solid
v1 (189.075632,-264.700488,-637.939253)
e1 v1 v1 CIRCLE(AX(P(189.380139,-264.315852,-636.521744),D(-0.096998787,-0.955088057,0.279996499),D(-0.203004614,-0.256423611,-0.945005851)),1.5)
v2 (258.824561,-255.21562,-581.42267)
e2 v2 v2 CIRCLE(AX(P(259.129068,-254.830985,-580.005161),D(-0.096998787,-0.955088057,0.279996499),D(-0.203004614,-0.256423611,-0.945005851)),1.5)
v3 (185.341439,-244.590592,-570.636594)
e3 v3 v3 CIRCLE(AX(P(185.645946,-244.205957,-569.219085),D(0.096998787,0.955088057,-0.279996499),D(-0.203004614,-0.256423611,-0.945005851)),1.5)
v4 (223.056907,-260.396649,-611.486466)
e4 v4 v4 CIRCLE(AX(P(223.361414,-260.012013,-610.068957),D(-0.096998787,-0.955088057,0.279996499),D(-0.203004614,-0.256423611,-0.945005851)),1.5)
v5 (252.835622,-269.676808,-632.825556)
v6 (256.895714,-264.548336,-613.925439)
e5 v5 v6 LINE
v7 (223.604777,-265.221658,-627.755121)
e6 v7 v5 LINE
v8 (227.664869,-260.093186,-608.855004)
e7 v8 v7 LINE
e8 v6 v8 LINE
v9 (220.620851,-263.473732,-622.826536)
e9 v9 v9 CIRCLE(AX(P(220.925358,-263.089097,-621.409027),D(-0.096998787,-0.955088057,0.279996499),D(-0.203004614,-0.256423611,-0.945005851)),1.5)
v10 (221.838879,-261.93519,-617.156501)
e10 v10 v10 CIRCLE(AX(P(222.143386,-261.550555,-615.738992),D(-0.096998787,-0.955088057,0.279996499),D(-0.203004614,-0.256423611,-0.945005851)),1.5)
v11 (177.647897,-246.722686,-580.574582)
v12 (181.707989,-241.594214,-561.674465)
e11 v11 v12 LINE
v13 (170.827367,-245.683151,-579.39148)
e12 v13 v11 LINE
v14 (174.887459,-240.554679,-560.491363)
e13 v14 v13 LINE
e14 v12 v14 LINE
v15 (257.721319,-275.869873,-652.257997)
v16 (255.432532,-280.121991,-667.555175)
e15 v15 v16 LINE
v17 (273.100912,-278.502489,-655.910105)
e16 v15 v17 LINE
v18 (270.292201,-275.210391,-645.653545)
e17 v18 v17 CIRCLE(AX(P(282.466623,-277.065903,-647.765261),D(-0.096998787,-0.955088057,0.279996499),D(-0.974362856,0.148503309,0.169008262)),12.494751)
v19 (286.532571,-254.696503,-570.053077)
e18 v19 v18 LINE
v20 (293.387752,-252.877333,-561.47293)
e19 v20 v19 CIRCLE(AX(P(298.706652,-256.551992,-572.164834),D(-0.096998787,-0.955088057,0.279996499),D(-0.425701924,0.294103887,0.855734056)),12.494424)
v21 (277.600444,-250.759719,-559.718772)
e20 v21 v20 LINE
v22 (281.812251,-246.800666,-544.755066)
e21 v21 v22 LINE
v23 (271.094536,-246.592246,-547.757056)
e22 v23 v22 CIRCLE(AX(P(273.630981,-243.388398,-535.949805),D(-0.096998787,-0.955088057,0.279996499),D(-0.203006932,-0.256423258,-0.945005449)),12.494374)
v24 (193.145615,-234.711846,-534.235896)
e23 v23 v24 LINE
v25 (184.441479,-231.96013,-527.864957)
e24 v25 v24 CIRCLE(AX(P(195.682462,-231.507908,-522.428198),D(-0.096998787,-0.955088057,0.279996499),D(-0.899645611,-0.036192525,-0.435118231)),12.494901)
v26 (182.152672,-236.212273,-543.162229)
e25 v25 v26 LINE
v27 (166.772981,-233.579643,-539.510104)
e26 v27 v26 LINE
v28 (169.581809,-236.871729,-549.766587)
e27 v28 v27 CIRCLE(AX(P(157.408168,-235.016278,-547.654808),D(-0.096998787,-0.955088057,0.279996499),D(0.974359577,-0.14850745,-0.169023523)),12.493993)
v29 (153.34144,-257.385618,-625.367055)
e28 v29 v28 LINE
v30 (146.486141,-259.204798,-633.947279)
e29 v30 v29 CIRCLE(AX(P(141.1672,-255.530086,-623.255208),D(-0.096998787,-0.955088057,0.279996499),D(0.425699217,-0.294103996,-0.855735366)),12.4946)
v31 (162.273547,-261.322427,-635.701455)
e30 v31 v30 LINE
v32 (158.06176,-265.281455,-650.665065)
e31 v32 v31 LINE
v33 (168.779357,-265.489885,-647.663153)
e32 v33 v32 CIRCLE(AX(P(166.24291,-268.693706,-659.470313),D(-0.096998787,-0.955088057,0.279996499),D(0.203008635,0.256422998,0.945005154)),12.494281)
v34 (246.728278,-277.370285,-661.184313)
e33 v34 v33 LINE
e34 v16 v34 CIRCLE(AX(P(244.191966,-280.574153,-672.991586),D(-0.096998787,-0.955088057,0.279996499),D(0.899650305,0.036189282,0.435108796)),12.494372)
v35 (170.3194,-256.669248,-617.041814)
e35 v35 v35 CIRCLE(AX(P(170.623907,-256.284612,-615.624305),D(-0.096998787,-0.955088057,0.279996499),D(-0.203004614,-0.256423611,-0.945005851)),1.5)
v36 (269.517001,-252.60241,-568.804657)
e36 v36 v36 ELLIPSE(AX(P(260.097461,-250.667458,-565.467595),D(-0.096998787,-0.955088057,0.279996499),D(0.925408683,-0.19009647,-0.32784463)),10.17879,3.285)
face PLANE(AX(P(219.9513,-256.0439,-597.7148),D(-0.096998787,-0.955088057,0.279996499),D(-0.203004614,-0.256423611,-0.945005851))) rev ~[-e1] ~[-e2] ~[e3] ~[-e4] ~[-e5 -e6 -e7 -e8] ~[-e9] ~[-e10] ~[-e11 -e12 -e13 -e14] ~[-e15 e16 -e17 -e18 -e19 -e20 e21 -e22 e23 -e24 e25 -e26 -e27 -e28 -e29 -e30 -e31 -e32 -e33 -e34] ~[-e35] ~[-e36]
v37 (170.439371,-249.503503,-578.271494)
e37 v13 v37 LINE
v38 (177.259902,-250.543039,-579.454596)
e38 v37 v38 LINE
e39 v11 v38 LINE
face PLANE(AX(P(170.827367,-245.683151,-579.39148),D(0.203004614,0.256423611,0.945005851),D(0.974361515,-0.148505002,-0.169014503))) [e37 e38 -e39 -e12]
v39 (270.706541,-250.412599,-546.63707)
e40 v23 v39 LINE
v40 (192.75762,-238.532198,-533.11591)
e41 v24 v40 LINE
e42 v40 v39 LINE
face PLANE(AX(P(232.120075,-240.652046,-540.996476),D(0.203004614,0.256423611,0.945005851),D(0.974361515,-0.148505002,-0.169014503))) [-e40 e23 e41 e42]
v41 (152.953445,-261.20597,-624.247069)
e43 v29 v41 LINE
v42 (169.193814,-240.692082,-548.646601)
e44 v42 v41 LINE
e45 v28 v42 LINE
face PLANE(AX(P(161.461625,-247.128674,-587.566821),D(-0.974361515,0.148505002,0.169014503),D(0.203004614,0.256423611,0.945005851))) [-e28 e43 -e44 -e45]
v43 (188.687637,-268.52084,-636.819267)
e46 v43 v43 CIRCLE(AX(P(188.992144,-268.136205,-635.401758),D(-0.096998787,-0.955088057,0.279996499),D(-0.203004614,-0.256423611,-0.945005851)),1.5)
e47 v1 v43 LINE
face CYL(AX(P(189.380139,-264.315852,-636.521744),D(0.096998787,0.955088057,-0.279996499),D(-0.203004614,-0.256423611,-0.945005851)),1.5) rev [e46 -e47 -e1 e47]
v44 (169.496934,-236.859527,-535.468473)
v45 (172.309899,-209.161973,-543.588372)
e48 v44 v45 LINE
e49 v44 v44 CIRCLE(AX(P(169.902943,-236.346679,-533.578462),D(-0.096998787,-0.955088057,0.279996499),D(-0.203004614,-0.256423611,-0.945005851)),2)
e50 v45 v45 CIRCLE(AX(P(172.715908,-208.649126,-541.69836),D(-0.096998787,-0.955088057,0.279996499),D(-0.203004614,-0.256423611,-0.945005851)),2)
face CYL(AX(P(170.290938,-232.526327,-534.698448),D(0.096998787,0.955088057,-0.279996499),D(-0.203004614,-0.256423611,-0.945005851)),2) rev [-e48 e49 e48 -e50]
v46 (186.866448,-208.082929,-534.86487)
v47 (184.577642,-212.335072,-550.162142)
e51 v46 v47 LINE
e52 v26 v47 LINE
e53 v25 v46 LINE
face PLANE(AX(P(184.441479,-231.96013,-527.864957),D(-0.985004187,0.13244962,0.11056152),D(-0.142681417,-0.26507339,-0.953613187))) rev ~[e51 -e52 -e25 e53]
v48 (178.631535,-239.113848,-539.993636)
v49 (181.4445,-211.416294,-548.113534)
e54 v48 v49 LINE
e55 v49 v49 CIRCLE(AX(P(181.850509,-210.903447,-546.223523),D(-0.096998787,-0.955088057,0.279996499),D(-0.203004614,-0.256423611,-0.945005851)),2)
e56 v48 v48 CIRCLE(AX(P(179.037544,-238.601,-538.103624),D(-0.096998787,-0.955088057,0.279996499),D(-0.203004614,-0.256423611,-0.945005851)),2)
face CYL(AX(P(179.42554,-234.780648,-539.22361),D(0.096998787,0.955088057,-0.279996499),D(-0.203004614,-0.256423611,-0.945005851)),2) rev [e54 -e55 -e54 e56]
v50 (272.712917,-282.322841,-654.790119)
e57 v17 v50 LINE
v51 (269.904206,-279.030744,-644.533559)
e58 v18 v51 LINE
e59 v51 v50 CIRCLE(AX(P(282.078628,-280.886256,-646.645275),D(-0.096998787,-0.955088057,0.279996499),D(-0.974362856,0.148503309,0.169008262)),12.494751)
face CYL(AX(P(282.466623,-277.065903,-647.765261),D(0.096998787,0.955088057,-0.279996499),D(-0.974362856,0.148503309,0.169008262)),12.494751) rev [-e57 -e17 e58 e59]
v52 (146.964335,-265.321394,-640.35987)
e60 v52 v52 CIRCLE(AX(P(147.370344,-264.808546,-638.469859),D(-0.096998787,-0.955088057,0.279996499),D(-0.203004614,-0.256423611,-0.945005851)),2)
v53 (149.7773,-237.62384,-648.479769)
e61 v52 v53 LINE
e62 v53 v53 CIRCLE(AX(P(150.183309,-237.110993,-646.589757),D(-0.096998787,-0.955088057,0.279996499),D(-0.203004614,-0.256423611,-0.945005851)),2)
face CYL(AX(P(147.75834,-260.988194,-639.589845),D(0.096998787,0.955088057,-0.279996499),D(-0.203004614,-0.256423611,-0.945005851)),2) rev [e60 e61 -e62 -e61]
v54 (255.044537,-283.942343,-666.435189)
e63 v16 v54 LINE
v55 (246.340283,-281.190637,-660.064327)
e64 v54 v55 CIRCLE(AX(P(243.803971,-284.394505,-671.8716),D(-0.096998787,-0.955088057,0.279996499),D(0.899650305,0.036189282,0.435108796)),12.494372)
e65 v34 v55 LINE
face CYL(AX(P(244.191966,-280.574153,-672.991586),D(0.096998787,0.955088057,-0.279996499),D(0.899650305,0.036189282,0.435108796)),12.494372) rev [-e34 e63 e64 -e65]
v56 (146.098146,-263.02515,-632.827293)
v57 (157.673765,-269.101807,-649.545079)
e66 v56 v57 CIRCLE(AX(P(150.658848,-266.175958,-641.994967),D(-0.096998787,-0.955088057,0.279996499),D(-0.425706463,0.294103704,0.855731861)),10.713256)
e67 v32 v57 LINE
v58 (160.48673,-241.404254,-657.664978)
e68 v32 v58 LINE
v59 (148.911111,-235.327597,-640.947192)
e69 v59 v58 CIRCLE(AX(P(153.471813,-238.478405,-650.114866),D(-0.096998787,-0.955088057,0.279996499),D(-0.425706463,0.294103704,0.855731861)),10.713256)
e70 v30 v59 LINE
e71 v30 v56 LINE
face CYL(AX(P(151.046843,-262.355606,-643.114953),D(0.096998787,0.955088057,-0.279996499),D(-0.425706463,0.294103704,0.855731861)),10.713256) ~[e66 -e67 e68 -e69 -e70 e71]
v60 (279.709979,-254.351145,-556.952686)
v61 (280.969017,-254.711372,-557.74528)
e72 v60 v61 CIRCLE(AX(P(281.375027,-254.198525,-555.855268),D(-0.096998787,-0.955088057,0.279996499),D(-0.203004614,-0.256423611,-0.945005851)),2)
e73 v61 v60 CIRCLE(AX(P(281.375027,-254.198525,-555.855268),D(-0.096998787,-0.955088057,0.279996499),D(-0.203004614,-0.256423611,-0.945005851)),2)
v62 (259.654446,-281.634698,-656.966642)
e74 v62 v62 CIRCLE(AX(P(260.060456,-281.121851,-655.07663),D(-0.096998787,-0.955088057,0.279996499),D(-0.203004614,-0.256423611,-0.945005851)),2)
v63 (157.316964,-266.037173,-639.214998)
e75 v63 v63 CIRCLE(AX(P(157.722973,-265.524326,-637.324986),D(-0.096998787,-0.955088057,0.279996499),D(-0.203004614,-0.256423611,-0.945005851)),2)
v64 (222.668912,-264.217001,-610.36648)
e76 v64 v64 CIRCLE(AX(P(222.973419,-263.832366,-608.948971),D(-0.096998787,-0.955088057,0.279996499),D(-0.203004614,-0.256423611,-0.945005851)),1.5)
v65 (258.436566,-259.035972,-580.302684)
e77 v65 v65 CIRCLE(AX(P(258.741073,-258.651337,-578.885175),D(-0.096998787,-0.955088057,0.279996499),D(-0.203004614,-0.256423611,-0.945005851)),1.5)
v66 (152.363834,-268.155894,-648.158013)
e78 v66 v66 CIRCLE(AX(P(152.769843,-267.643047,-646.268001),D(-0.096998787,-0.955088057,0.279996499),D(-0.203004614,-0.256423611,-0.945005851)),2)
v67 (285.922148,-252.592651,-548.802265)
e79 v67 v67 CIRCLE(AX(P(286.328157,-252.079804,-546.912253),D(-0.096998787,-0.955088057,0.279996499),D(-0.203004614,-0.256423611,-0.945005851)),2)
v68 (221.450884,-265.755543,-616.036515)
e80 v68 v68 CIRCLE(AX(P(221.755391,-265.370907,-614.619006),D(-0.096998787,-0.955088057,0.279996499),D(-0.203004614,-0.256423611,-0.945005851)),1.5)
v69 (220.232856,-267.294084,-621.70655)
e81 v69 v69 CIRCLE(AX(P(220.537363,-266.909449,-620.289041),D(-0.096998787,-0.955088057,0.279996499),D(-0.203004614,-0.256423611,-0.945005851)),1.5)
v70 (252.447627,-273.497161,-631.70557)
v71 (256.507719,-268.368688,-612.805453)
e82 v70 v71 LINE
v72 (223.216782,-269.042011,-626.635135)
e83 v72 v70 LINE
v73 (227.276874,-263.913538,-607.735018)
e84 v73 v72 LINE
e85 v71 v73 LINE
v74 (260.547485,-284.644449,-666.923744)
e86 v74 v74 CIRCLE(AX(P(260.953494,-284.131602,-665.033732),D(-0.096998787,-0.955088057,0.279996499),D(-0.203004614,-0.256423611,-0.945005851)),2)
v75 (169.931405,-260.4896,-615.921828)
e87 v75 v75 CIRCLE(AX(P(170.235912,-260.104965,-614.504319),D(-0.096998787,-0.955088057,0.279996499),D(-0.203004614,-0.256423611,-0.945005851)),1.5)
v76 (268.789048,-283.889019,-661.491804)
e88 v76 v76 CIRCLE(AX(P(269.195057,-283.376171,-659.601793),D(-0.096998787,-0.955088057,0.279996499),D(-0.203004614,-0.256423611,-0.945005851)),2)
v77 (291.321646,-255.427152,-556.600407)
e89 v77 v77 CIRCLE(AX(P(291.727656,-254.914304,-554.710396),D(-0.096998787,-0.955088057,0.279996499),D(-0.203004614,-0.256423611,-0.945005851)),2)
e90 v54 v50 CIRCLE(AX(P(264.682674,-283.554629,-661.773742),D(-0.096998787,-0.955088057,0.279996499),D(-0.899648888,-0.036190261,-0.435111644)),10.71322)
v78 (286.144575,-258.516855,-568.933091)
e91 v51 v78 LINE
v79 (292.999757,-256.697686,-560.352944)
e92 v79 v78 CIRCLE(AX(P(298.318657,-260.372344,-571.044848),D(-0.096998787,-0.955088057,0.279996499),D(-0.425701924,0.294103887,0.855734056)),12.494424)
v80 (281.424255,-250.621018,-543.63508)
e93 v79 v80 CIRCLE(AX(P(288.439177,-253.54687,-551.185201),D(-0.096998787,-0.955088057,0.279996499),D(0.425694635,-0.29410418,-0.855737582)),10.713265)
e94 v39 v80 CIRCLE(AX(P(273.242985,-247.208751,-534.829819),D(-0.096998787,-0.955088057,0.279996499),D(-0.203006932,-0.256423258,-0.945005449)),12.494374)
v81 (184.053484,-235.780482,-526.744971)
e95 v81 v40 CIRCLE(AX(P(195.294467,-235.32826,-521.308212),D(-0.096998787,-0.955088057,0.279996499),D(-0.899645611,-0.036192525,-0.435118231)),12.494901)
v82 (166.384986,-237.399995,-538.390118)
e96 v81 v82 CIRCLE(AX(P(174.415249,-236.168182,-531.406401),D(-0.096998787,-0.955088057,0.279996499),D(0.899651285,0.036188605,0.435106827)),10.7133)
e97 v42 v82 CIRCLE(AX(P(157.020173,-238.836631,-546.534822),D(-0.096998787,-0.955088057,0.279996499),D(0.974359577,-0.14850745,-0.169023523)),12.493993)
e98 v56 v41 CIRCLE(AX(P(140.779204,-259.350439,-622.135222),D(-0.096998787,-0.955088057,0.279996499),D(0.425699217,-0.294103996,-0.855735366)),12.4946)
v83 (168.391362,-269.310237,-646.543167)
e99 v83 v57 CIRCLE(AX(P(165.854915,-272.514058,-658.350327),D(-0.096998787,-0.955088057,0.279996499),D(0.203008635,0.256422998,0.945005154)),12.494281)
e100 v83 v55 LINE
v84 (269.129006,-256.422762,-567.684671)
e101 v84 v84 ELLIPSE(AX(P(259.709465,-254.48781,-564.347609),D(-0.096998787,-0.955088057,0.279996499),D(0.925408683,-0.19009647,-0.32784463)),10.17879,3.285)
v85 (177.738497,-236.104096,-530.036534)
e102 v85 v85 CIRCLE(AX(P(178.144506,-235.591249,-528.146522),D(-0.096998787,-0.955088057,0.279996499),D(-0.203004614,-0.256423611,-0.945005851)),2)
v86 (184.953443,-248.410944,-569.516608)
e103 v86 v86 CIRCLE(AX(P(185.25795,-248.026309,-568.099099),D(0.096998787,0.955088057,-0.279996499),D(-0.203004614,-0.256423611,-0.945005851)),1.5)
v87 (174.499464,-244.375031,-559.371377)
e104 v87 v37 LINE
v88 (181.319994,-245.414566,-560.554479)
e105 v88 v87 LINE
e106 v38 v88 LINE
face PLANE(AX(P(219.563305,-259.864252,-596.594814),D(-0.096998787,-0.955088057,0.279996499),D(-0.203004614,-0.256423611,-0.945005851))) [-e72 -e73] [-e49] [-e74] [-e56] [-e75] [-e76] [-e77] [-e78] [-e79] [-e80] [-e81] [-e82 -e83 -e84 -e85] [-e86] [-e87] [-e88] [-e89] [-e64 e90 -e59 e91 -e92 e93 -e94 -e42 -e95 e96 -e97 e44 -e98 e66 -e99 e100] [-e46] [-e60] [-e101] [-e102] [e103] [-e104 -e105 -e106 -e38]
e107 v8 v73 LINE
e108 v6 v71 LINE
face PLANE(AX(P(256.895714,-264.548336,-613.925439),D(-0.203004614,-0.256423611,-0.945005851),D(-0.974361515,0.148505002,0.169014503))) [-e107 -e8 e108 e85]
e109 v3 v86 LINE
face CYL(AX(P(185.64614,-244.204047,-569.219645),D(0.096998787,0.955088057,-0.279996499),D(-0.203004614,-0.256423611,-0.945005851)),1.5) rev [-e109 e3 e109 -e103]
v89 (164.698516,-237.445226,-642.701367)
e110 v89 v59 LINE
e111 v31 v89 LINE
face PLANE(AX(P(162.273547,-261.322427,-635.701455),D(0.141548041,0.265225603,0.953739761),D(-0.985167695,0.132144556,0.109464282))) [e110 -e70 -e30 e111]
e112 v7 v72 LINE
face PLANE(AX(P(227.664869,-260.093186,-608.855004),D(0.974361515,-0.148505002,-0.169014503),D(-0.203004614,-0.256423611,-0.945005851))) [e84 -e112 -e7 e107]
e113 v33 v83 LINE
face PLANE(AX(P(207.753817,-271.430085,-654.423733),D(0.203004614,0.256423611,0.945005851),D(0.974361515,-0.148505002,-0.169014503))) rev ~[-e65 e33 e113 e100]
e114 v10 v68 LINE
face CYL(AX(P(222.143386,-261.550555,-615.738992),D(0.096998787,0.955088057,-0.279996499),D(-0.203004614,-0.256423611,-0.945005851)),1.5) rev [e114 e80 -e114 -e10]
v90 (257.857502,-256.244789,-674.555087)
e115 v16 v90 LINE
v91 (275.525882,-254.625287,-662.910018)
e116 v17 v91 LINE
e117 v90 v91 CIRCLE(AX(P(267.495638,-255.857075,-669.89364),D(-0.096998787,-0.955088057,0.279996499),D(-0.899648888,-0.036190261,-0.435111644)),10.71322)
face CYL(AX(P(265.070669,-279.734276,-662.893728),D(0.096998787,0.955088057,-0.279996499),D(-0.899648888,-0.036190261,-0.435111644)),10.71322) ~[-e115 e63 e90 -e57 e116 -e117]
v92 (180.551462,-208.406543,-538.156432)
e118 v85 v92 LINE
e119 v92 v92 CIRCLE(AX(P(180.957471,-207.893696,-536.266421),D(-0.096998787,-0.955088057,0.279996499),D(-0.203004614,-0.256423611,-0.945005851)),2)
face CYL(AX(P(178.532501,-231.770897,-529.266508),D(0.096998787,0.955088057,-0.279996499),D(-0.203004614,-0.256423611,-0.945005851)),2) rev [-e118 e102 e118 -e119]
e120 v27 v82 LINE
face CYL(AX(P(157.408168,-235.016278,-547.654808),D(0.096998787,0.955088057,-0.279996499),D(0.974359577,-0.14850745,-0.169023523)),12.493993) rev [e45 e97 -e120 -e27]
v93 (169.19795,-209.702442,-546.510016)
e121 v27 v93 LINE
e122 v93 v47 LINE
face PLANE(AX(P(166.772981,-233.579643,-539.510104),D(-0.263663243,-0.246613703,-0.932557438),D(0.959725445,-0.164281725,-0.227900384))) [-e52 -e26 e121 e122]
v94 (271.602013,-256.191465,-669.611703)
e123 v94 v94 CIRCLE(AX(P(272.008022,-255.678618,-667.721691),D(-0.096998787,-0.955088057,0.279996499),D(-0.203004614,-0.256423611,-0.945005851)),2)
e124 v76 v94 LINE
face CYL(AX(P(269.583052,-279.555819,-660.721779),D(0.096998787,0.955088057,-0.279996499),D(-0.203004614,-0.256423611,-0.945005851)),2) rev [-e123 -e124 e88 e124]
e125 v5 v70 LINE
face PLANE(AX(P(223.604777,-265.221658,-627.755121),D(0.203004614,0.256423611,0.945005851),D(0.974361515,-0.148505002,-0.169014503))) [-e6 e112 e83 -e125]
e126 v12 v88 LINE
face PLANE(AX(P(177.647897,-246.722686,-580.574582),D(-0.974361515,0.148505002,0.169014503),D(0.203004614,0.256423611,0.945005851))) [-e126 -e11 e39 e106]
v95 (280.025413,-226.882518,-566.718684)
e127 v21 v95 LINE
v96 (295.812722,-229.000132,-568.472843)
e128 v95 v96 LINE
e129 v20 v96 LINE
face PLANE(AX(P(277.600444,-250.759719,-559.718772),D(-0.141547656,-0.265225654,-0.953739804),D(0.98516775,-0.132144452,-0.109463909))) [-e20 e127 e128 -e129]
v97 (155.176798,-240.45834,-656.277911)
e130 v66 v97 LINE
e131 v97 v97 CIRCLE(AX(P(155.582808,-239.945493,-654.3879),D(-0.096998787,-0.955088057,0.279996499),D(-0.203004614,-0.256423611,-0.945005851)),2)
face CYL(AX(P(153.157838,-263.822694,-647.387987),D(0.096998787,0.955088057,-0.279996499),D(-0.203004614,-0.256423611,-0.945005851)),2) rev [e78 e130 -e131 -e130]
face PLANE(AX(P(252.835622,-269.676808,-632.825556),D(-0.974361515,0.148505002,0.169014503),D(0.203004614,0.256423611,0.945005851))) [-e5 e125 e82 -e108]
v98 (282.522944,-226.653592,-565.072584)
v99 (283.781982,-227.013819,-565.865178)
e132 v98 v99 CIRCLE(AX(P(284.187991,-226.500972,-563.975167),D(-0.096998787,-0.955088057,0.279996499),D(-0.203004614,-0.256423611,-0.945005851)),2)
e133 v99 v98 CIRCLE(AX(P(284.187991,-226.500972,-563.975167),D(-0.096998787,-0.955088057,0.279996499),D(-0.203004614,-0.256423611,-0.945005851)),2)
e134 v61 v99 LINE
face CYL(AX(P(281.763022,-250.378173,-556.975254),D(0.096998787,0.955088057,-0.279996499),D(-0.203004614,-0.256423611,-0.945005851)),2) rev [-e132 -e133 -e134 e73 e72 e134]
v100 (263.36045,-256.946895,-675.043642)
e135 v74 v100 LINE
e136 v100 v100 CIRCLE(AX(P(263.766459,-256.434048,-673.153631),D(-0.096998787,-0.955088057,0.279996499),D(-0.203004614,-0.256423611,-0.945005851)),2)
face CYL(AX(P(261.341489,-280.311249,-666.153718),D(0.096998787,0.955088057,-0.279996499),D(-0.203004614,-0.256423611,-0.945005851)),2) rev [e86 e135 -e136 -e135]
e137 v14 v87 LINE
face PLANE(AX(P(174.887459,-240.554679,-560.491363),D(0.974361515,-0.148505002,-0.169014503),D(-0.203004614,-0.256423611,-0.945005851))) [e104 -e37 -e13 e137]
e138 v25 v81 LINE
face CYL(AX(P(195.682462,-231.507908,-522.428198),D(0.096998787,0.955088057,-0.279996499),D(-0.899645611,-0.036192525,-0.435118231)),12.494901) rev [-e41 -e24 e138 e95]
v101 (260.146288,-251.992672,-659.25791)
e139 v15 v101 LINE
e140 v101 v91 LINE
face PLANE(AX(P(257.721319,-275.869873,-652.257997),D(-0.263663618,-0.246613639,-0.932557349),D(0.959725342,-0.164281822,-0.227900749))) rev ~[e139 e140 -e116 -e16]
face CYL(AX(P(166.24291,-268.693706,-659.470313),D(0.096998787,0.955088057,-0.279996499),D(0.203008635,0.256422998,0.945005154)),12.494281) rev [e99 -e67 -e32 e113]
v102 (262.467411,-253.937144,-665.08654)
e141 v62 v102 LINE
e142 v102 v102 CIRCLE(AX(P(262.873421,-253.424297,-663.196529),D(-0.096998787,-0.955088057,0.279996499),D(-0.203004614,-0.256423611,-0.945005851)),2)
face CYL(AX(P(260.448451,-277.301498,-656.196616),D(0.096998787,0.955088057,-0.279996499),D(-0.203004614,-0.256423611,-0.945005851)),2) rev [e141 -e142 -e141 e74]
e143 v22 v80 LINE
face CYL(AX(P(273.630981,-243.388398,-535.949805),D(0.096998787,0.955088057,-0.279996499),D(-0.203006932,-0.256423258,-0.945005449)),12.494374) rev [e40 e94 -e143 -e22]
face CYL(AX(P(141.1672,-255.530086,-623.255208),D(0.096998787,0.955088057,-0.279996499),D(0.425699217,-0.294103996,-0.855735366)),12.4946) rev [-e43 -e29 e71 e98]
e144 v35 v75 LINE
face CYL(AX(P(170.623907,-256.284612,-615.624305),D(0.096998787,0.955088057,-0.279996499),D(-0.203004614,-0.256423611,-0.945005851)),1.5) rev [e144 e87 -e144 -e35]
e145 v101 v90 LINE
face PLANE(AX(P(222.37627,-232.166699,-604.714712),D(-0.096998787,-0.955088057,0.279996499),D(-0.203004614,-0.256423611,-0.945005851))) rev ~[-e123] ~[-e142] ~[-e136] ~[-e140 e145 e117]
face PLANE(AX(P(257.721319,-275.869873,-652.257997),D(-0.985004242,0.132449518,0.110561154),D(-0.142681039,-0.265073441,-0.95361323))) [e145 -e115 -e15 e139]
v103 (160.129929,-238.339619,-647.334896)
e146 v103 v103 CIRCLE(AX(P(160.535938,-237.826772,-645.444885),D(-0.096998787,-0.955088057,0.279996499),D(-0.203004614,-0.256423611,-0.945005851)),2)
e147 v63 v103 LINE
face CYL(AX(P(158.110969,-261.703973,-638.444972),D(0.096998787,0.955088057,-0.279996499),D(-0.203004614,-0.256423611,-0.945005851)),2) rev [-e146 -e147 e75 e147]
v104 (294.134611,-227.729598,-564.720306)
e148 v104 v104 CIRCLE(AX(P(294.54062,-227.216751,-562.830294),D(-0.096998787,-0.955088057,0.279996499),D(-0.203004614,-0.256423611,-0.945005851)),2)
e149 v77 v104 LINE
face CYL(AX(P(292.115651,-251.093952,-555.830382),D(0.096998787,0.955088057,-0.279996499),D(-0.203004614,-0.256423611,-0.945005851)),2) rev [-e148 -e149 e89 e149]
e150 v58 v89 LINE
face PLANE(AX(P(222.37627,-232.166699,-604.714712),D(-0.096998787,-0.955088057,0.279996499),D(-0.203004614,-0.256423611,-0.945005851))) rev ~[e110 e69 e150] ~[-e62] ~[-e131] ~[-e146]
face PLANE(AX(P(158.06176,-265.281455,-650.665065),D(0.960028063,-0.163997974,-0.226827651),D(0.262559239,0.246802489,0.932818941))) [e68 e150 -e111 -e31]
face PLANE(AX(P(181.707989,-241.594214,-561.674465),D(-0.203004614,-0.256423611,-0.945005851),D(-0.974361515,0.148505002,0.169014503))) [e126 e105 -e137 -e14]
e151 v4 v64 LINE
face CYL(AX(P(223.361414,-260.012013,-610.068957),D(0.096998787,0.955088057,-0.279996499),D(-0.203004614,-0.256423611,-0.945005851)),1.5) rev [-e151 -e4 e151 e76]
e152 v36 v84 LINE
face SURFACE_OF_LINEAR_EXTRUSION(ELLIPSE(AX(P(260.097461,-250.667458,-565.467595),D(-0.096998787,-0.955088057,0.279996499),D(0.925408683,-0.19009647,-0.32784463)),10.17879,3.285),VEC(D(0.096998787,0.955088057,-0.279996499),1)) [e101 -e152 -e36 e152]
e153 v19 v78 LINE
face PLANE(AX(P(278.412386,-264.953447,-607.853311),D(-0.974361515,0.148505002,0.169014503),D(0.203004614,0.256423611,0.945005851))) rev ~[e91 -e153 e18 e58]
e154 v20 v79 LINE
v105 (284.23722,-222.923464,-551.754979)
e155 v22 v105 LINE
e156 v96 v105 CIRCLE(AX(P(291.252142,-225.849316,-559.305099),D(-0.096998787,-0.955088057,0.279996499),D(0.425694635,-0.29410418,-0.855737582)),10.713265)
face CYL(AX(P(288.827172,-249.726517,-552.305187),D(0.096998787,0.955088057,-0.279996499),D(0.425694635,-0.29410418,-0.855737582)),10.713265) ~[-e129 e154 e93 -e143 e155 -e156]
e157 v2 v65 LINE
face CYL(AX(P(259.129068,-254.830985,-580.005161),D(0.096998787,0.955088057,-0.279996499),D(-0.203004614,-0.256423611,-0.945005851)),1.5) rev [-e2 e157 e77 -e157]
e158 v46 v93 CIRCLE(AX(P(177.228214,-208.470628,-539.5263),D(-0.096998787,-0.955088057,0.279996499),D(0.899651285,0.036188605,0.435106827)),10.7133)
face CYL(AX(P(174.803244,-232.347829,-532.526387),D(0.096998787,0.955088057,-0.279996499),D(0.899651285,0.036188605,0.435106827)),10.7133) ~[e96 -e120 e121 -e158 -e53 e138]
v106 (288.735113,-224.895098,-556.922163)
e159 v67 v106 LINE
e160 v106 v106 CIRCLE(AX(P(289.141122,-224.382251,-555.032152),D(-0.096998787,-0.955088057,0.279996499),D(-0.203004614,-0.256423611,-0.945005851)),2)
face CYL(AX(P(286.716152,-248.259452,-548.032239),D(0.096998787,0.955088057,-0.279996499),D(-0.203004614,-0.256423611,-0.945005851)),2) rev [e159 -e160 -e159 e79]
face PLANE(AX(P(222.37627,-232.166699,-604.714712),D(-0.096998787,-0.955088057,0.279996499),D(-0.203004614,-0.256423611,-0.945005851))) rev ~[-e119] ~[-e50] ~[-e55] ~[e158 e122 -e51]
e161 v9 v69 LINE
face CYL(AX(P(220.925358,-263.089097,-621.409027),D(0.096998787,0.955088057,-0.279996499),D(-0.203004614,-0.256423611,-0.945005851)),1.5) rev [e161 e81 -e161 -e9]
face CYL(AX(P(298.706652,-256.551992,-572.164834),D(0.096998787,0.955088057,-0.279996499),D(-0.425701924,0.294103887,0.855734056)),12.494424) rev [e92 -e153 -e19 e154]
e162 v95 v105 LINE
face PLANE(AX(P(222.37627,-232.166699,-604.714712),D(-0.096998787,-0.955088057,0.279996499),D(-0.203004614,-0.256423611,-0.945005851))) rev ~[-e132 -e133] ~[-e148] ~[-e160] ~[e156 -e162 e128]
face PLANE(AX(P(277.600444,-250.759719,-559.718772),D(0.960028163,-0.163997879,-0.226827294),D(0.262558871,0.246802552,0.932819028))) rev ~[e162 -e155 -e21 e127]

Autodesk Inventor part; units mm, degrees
ref_plane "YZ Plane" through (0, 0, 0) normal (1, 0, 0) x (0, 1, 0)
ref_plane "XZ Plane" through (0, 0, 0) normal (0, 1, 0) x (-1, 0, 0)
ref_plane "XY Plane" through (0, 0, 0) normal (0, 0, 1) x (1, 0, 0)
ref_plane "Work Plane1" through (219.9513, -256.0439, -597.7148) normal (-0.097, -0.9551, 0.28) x (-0.203, -0.2564, -0.945)
sketch "Sketch3" plane through (219.9513, -256.0439, -597.7148) normal (-0.097, -0.9551, 0.28) x (-0.203, -0.2564, -0.945)
  line L0 (-0.0023, 59.9989) -> (-40.0023, 59.9989)
  line L1 (-0.0023, 59.9989) -> (39.9977, 59.9989) construction
  line L2 (-60.0163, -0.0152) -> (-60.0163, 39.9848)
  line L3 (-60.0163, -0.0152) -> (-20.0163, -0.0152) construction
  line L4 (-60.0163, -0.0152) -> (-0.0023, -0.0152)
  line L5 (-0.0023, -0.0152) -> (-0.0023, 59.9989)
  arc A0 (-49.9687, 64.958) -> (-40.0023, 59.9989) centre (-40.0023, 72.4933) ccw
  arc A1 (-60.0163, 39.9848) -> (-64.9755, 49.9513) centre (-72.5108, 39.9848) ccw
  arc A2 (-49.9687, 64.958) -> (-64.9755, 49.9513) centre (-58.5144, 58.4969) ccw
  line L6 (-40.0023, 59.9989) -> (-40.0023, 59.4989)
  line L7 (-60.0163, 39.9848) -> (-59.5163, 39.9848)
  arc A3 (-59.5163, 39.9848) -> (-40.0023, 59.4989) centre (-59.5163, 59.4989) ccw
  line L8 (-60.0163, -0.0152) -> (-80.0163, -0.0152)
  line L9 (-60.0163, -40.0152) -> (-59.5163, -40.0152)
  arc A4 (-64.9755, -49.9816) -> (-60.0163, -40.0152) centre (-72.5108, -40.0152) ccw
  line L10 (-60.0163, -0.0152) -> (-60.0163, -40.0152)
  arc A5 (-64.9755, -49.9816) -> (-49.9687, -64.9884) centre (-58.5144, -58.5273) ccw
  arc A6 (-40.0023, -60.0292) -> (-49.9687, -64.9884) centre (-40.0023, -72.5237) ccw
  arc A7 (-40.0023, -59.5292) -> (-59.5163, -40.0152) centre (-59.5163, -59.5292) ccw
  line L11 (-40.0023, -60.0292) -> (-40.0023, -59.5292)
  line L12 (-0.0023, -60.0292) -> (-40.0023, -60.0292)
  line L13 (-0.0023, -0.0152) -> (-0.0023, -60.0292)
  line L14 (-0.0023, 59.9989) -> (-40.0023, 59.9989) construction
  line L15 (-0.0023, 59.9989) -> (39.9977, 59.9989)
  line L16 (60.0118, -0.0152) -> (60.0118, 39.9848)
  line L17 (60.0118, 39.9848) -> (59.5118, 39.9848)
  arc A8 (64.9709, 49.9513) -> (60.0118, 39.9848) centre (72.5063, 39.9848) ccw
  line L18 (60.0118, -0.0152) -> (20.0118, -0.0152) construction
  arc A9 (64.9709, 49.9513) -> (49.9642, 64.958) centre (58.5098, 58.4969) ccw
  arc A10 (39.9977, 59.4989) -> (59.5118, 39.9848) centre (59.5118, 59.4989) ccw
  line L19 (39.9977, 59.9989) -> (39.9977, 59.4989)
  arc A11 (39.9977, 59.9989) -> (49.9642, 64.958) centre (39.9977, 72.4933) ccw
  line L20 (60.0118, -0.0152) -> (-0.0023, -0.0152)
  line L21 (60.0118, -40.0152) -> (59.5118, -40.0152)
  line L22 (60.0118, -0.0152) -> (60.0118, -40.0152)
  arc A12 (60.0118, -40.0152) -> (64.9709, -49.9816) centre (72.5063, -40.0152) ccw
  arc A13 (59.5118, -40.0152) -> (39.9977, -59.5292) centre (59.5118, -59.5292) ccw
  arc A14 (49.9642, -64.9884) -> (64.9709, -49.9816) centre (58.5098, -58.5273) ccw
  line L23 (39.9977, -60.0292) -> (39.9977, -59.5292)
  arc A15 (49.9642, -64.9884) -> (39.9977, -60.0292) centre (39.9977, -72.5237) ccw
  line L24 (-0.0023, -60.0292) -> (39.9977, -60.0292)
  line L25 (10, 10) -> (30, 10)
  line L26 (30, 10) -> (30, 40)
  line L27 (30, 40) -> (10, 40)
  line L28 (10, 40) -> (10, 10)
  line L29 (-30, -52.5) -> (-10, -52.5)
  line L30 (-10, -52.5) -> (-10, -45.5)
  line L31 (-10, -45.5) -> (-30, -45.5)
  line L32 (-30, -45.5) -> (-30, -52.5)
  ellipse E0 centre (-40.0023, 32.8682) end of major axis (-38.2648, 42.8976) minor radius 3.285
  circle A16 centre (12, 6) radius 1.5
  circle A17 centre (18, 6) radius 1.5
  circle A18 centre (24, 6) radius 1.5
  circle A19 centre (45, -22) radius 1.5
  circle A20 centre (27, -45) radius 1.5
  circle A21 centre (-25, 35) radius 1.5
  circle A22 centre (-52.5, 52.5) radius 2
  circle A23 centre (-55.5, 62.5) radius 2
  circle A24 centre (-62.5, 55.5) radius 2
  circle A25 centre (-62.5, -55.5303) radius 2
  circle A26 centre (-55.5, -62.5303) radius 2
  circle A27 centre (-52.5, -52.5303) radius 2
  circle A28 centre (52.4955, -52.5303) radius 2
  circle A29 centre (55.4955, -62.5303) radius 2
  circle A30 centre (62.4955, -55.5303) radius 2
  circle A31 centre (52.4955, 52.5) radius 2
  circle A32 centre (55.4955, 62.5) radius 2
  circle A33 centre (62.4955, 55.5) radius 2
  line L33 (52.4955, 52.5) -> (57.4955, 52.5) construction
  line L34 (48.96, 48.9645) -> (49.9642, 64.958)
  line L35 (48.96, 48.9645) -> (64.9709, 49.9513)
  line L36 (52.4955, -52.5303) -> (57.4955, -52.5303) construction
  line L37 (64.9709, -49.9816) -> (48.96, -48.9948)
  line L38 (48.96, -48.9948) -> (49.9642, -64.9884)
  line L39 (-52.5, -52.5303) -> (-47.5, -52.5303) construction
  line L40 (-49.9687, -64.9884) -> (-48.9645, -48.9948)
  line L41 (-64.9755, -49.9816) -> (-48.9645, -48.9948)
  line L42 (-52.5, 52.5) -> (-48.9645, 48.9645)
  line L43 (-52.5, 52.5) -> (-47.5, 52.5) construction
  line L44 (-48.9645, 48.9645) -> (-64.9755, 49.9513)
  line L45 (-48.9645, 48.9645) -> (-49.9687, 64.958)
  circle A34 centre (-23, -40) radius 1.5
  dimension "d14" = 40
  dimension "d15" = 180
  dimension "d16" = 40
  dimension "d17" = 90
  dimension "d18" = 12.4944
  dimension "d19" = 12.4944
  dimension "d20" = 0.5
  dimension "d21" = 0.5
  dimension "d22" = 20
  dimension "d24" = 20
  dimension "d25" = 30
  dimension "d26" = 90
  dimension "d27" = 90
  dimension "d28" = 20
  dimension "d29" = 7
  dimension "d30" = 3
  dimension "d31" = 3
  dimension "d32" = 3
  dimension "d33" = 3
  dimension "d34" = 3
  dimension "d35" = 3
  dimension "d36" = 4
  dimension "d37" = 4
  dimension "d38" = 4
  dimension "d39" = 4
  dimension "d40" = 4
  dimension "d41" = 4
  dimension "d42" = 4
  dimension "d43" = 4
  dimension "d44" = 4
  dimension "d45" = 4
  dimension "d46" = 4
  dimension "d47" = 4
  dimension "d54" = 5
  dimension "d56" = 5
  dimension "d58" = 5
  dimension "d59" = 45
  dimension "d62" = 3
extrude "Extrusion1" add sketch "Sketch3" along normal blind 4 contours L5 L4 L2 L7 A3 L6 L0 | L15 L19 A10 L17 L16 L20 L5 | L6 A3 L7 A1 L44 L45 A0 | L13 L12 L11 A7 L9 L10 L4 | L20 L22 L21 A13 L23 L24 L13 | A11 L34 L35 A8 L17 A10 L19 | L45 L44 A2 | A9 L35 L34 | L9 A7 L11 A6 L40 L41 A4 | L23 A13 L21 A12 L37 L38 A15 | L41 L40 A5 | L38 L37 A14 | A34
extrude "Extrusion3" add sketch "Sketch3" against normal blind 25 contours L45 L44 A2 | A9 L35 L34 | L41 L40 A5 | L38 L37 A14
extrude "Extrusion4" cut sketch "Sketch3" along normal blind 4 contours A34
properties part number "Ceiling" material "ABS Plastic"
